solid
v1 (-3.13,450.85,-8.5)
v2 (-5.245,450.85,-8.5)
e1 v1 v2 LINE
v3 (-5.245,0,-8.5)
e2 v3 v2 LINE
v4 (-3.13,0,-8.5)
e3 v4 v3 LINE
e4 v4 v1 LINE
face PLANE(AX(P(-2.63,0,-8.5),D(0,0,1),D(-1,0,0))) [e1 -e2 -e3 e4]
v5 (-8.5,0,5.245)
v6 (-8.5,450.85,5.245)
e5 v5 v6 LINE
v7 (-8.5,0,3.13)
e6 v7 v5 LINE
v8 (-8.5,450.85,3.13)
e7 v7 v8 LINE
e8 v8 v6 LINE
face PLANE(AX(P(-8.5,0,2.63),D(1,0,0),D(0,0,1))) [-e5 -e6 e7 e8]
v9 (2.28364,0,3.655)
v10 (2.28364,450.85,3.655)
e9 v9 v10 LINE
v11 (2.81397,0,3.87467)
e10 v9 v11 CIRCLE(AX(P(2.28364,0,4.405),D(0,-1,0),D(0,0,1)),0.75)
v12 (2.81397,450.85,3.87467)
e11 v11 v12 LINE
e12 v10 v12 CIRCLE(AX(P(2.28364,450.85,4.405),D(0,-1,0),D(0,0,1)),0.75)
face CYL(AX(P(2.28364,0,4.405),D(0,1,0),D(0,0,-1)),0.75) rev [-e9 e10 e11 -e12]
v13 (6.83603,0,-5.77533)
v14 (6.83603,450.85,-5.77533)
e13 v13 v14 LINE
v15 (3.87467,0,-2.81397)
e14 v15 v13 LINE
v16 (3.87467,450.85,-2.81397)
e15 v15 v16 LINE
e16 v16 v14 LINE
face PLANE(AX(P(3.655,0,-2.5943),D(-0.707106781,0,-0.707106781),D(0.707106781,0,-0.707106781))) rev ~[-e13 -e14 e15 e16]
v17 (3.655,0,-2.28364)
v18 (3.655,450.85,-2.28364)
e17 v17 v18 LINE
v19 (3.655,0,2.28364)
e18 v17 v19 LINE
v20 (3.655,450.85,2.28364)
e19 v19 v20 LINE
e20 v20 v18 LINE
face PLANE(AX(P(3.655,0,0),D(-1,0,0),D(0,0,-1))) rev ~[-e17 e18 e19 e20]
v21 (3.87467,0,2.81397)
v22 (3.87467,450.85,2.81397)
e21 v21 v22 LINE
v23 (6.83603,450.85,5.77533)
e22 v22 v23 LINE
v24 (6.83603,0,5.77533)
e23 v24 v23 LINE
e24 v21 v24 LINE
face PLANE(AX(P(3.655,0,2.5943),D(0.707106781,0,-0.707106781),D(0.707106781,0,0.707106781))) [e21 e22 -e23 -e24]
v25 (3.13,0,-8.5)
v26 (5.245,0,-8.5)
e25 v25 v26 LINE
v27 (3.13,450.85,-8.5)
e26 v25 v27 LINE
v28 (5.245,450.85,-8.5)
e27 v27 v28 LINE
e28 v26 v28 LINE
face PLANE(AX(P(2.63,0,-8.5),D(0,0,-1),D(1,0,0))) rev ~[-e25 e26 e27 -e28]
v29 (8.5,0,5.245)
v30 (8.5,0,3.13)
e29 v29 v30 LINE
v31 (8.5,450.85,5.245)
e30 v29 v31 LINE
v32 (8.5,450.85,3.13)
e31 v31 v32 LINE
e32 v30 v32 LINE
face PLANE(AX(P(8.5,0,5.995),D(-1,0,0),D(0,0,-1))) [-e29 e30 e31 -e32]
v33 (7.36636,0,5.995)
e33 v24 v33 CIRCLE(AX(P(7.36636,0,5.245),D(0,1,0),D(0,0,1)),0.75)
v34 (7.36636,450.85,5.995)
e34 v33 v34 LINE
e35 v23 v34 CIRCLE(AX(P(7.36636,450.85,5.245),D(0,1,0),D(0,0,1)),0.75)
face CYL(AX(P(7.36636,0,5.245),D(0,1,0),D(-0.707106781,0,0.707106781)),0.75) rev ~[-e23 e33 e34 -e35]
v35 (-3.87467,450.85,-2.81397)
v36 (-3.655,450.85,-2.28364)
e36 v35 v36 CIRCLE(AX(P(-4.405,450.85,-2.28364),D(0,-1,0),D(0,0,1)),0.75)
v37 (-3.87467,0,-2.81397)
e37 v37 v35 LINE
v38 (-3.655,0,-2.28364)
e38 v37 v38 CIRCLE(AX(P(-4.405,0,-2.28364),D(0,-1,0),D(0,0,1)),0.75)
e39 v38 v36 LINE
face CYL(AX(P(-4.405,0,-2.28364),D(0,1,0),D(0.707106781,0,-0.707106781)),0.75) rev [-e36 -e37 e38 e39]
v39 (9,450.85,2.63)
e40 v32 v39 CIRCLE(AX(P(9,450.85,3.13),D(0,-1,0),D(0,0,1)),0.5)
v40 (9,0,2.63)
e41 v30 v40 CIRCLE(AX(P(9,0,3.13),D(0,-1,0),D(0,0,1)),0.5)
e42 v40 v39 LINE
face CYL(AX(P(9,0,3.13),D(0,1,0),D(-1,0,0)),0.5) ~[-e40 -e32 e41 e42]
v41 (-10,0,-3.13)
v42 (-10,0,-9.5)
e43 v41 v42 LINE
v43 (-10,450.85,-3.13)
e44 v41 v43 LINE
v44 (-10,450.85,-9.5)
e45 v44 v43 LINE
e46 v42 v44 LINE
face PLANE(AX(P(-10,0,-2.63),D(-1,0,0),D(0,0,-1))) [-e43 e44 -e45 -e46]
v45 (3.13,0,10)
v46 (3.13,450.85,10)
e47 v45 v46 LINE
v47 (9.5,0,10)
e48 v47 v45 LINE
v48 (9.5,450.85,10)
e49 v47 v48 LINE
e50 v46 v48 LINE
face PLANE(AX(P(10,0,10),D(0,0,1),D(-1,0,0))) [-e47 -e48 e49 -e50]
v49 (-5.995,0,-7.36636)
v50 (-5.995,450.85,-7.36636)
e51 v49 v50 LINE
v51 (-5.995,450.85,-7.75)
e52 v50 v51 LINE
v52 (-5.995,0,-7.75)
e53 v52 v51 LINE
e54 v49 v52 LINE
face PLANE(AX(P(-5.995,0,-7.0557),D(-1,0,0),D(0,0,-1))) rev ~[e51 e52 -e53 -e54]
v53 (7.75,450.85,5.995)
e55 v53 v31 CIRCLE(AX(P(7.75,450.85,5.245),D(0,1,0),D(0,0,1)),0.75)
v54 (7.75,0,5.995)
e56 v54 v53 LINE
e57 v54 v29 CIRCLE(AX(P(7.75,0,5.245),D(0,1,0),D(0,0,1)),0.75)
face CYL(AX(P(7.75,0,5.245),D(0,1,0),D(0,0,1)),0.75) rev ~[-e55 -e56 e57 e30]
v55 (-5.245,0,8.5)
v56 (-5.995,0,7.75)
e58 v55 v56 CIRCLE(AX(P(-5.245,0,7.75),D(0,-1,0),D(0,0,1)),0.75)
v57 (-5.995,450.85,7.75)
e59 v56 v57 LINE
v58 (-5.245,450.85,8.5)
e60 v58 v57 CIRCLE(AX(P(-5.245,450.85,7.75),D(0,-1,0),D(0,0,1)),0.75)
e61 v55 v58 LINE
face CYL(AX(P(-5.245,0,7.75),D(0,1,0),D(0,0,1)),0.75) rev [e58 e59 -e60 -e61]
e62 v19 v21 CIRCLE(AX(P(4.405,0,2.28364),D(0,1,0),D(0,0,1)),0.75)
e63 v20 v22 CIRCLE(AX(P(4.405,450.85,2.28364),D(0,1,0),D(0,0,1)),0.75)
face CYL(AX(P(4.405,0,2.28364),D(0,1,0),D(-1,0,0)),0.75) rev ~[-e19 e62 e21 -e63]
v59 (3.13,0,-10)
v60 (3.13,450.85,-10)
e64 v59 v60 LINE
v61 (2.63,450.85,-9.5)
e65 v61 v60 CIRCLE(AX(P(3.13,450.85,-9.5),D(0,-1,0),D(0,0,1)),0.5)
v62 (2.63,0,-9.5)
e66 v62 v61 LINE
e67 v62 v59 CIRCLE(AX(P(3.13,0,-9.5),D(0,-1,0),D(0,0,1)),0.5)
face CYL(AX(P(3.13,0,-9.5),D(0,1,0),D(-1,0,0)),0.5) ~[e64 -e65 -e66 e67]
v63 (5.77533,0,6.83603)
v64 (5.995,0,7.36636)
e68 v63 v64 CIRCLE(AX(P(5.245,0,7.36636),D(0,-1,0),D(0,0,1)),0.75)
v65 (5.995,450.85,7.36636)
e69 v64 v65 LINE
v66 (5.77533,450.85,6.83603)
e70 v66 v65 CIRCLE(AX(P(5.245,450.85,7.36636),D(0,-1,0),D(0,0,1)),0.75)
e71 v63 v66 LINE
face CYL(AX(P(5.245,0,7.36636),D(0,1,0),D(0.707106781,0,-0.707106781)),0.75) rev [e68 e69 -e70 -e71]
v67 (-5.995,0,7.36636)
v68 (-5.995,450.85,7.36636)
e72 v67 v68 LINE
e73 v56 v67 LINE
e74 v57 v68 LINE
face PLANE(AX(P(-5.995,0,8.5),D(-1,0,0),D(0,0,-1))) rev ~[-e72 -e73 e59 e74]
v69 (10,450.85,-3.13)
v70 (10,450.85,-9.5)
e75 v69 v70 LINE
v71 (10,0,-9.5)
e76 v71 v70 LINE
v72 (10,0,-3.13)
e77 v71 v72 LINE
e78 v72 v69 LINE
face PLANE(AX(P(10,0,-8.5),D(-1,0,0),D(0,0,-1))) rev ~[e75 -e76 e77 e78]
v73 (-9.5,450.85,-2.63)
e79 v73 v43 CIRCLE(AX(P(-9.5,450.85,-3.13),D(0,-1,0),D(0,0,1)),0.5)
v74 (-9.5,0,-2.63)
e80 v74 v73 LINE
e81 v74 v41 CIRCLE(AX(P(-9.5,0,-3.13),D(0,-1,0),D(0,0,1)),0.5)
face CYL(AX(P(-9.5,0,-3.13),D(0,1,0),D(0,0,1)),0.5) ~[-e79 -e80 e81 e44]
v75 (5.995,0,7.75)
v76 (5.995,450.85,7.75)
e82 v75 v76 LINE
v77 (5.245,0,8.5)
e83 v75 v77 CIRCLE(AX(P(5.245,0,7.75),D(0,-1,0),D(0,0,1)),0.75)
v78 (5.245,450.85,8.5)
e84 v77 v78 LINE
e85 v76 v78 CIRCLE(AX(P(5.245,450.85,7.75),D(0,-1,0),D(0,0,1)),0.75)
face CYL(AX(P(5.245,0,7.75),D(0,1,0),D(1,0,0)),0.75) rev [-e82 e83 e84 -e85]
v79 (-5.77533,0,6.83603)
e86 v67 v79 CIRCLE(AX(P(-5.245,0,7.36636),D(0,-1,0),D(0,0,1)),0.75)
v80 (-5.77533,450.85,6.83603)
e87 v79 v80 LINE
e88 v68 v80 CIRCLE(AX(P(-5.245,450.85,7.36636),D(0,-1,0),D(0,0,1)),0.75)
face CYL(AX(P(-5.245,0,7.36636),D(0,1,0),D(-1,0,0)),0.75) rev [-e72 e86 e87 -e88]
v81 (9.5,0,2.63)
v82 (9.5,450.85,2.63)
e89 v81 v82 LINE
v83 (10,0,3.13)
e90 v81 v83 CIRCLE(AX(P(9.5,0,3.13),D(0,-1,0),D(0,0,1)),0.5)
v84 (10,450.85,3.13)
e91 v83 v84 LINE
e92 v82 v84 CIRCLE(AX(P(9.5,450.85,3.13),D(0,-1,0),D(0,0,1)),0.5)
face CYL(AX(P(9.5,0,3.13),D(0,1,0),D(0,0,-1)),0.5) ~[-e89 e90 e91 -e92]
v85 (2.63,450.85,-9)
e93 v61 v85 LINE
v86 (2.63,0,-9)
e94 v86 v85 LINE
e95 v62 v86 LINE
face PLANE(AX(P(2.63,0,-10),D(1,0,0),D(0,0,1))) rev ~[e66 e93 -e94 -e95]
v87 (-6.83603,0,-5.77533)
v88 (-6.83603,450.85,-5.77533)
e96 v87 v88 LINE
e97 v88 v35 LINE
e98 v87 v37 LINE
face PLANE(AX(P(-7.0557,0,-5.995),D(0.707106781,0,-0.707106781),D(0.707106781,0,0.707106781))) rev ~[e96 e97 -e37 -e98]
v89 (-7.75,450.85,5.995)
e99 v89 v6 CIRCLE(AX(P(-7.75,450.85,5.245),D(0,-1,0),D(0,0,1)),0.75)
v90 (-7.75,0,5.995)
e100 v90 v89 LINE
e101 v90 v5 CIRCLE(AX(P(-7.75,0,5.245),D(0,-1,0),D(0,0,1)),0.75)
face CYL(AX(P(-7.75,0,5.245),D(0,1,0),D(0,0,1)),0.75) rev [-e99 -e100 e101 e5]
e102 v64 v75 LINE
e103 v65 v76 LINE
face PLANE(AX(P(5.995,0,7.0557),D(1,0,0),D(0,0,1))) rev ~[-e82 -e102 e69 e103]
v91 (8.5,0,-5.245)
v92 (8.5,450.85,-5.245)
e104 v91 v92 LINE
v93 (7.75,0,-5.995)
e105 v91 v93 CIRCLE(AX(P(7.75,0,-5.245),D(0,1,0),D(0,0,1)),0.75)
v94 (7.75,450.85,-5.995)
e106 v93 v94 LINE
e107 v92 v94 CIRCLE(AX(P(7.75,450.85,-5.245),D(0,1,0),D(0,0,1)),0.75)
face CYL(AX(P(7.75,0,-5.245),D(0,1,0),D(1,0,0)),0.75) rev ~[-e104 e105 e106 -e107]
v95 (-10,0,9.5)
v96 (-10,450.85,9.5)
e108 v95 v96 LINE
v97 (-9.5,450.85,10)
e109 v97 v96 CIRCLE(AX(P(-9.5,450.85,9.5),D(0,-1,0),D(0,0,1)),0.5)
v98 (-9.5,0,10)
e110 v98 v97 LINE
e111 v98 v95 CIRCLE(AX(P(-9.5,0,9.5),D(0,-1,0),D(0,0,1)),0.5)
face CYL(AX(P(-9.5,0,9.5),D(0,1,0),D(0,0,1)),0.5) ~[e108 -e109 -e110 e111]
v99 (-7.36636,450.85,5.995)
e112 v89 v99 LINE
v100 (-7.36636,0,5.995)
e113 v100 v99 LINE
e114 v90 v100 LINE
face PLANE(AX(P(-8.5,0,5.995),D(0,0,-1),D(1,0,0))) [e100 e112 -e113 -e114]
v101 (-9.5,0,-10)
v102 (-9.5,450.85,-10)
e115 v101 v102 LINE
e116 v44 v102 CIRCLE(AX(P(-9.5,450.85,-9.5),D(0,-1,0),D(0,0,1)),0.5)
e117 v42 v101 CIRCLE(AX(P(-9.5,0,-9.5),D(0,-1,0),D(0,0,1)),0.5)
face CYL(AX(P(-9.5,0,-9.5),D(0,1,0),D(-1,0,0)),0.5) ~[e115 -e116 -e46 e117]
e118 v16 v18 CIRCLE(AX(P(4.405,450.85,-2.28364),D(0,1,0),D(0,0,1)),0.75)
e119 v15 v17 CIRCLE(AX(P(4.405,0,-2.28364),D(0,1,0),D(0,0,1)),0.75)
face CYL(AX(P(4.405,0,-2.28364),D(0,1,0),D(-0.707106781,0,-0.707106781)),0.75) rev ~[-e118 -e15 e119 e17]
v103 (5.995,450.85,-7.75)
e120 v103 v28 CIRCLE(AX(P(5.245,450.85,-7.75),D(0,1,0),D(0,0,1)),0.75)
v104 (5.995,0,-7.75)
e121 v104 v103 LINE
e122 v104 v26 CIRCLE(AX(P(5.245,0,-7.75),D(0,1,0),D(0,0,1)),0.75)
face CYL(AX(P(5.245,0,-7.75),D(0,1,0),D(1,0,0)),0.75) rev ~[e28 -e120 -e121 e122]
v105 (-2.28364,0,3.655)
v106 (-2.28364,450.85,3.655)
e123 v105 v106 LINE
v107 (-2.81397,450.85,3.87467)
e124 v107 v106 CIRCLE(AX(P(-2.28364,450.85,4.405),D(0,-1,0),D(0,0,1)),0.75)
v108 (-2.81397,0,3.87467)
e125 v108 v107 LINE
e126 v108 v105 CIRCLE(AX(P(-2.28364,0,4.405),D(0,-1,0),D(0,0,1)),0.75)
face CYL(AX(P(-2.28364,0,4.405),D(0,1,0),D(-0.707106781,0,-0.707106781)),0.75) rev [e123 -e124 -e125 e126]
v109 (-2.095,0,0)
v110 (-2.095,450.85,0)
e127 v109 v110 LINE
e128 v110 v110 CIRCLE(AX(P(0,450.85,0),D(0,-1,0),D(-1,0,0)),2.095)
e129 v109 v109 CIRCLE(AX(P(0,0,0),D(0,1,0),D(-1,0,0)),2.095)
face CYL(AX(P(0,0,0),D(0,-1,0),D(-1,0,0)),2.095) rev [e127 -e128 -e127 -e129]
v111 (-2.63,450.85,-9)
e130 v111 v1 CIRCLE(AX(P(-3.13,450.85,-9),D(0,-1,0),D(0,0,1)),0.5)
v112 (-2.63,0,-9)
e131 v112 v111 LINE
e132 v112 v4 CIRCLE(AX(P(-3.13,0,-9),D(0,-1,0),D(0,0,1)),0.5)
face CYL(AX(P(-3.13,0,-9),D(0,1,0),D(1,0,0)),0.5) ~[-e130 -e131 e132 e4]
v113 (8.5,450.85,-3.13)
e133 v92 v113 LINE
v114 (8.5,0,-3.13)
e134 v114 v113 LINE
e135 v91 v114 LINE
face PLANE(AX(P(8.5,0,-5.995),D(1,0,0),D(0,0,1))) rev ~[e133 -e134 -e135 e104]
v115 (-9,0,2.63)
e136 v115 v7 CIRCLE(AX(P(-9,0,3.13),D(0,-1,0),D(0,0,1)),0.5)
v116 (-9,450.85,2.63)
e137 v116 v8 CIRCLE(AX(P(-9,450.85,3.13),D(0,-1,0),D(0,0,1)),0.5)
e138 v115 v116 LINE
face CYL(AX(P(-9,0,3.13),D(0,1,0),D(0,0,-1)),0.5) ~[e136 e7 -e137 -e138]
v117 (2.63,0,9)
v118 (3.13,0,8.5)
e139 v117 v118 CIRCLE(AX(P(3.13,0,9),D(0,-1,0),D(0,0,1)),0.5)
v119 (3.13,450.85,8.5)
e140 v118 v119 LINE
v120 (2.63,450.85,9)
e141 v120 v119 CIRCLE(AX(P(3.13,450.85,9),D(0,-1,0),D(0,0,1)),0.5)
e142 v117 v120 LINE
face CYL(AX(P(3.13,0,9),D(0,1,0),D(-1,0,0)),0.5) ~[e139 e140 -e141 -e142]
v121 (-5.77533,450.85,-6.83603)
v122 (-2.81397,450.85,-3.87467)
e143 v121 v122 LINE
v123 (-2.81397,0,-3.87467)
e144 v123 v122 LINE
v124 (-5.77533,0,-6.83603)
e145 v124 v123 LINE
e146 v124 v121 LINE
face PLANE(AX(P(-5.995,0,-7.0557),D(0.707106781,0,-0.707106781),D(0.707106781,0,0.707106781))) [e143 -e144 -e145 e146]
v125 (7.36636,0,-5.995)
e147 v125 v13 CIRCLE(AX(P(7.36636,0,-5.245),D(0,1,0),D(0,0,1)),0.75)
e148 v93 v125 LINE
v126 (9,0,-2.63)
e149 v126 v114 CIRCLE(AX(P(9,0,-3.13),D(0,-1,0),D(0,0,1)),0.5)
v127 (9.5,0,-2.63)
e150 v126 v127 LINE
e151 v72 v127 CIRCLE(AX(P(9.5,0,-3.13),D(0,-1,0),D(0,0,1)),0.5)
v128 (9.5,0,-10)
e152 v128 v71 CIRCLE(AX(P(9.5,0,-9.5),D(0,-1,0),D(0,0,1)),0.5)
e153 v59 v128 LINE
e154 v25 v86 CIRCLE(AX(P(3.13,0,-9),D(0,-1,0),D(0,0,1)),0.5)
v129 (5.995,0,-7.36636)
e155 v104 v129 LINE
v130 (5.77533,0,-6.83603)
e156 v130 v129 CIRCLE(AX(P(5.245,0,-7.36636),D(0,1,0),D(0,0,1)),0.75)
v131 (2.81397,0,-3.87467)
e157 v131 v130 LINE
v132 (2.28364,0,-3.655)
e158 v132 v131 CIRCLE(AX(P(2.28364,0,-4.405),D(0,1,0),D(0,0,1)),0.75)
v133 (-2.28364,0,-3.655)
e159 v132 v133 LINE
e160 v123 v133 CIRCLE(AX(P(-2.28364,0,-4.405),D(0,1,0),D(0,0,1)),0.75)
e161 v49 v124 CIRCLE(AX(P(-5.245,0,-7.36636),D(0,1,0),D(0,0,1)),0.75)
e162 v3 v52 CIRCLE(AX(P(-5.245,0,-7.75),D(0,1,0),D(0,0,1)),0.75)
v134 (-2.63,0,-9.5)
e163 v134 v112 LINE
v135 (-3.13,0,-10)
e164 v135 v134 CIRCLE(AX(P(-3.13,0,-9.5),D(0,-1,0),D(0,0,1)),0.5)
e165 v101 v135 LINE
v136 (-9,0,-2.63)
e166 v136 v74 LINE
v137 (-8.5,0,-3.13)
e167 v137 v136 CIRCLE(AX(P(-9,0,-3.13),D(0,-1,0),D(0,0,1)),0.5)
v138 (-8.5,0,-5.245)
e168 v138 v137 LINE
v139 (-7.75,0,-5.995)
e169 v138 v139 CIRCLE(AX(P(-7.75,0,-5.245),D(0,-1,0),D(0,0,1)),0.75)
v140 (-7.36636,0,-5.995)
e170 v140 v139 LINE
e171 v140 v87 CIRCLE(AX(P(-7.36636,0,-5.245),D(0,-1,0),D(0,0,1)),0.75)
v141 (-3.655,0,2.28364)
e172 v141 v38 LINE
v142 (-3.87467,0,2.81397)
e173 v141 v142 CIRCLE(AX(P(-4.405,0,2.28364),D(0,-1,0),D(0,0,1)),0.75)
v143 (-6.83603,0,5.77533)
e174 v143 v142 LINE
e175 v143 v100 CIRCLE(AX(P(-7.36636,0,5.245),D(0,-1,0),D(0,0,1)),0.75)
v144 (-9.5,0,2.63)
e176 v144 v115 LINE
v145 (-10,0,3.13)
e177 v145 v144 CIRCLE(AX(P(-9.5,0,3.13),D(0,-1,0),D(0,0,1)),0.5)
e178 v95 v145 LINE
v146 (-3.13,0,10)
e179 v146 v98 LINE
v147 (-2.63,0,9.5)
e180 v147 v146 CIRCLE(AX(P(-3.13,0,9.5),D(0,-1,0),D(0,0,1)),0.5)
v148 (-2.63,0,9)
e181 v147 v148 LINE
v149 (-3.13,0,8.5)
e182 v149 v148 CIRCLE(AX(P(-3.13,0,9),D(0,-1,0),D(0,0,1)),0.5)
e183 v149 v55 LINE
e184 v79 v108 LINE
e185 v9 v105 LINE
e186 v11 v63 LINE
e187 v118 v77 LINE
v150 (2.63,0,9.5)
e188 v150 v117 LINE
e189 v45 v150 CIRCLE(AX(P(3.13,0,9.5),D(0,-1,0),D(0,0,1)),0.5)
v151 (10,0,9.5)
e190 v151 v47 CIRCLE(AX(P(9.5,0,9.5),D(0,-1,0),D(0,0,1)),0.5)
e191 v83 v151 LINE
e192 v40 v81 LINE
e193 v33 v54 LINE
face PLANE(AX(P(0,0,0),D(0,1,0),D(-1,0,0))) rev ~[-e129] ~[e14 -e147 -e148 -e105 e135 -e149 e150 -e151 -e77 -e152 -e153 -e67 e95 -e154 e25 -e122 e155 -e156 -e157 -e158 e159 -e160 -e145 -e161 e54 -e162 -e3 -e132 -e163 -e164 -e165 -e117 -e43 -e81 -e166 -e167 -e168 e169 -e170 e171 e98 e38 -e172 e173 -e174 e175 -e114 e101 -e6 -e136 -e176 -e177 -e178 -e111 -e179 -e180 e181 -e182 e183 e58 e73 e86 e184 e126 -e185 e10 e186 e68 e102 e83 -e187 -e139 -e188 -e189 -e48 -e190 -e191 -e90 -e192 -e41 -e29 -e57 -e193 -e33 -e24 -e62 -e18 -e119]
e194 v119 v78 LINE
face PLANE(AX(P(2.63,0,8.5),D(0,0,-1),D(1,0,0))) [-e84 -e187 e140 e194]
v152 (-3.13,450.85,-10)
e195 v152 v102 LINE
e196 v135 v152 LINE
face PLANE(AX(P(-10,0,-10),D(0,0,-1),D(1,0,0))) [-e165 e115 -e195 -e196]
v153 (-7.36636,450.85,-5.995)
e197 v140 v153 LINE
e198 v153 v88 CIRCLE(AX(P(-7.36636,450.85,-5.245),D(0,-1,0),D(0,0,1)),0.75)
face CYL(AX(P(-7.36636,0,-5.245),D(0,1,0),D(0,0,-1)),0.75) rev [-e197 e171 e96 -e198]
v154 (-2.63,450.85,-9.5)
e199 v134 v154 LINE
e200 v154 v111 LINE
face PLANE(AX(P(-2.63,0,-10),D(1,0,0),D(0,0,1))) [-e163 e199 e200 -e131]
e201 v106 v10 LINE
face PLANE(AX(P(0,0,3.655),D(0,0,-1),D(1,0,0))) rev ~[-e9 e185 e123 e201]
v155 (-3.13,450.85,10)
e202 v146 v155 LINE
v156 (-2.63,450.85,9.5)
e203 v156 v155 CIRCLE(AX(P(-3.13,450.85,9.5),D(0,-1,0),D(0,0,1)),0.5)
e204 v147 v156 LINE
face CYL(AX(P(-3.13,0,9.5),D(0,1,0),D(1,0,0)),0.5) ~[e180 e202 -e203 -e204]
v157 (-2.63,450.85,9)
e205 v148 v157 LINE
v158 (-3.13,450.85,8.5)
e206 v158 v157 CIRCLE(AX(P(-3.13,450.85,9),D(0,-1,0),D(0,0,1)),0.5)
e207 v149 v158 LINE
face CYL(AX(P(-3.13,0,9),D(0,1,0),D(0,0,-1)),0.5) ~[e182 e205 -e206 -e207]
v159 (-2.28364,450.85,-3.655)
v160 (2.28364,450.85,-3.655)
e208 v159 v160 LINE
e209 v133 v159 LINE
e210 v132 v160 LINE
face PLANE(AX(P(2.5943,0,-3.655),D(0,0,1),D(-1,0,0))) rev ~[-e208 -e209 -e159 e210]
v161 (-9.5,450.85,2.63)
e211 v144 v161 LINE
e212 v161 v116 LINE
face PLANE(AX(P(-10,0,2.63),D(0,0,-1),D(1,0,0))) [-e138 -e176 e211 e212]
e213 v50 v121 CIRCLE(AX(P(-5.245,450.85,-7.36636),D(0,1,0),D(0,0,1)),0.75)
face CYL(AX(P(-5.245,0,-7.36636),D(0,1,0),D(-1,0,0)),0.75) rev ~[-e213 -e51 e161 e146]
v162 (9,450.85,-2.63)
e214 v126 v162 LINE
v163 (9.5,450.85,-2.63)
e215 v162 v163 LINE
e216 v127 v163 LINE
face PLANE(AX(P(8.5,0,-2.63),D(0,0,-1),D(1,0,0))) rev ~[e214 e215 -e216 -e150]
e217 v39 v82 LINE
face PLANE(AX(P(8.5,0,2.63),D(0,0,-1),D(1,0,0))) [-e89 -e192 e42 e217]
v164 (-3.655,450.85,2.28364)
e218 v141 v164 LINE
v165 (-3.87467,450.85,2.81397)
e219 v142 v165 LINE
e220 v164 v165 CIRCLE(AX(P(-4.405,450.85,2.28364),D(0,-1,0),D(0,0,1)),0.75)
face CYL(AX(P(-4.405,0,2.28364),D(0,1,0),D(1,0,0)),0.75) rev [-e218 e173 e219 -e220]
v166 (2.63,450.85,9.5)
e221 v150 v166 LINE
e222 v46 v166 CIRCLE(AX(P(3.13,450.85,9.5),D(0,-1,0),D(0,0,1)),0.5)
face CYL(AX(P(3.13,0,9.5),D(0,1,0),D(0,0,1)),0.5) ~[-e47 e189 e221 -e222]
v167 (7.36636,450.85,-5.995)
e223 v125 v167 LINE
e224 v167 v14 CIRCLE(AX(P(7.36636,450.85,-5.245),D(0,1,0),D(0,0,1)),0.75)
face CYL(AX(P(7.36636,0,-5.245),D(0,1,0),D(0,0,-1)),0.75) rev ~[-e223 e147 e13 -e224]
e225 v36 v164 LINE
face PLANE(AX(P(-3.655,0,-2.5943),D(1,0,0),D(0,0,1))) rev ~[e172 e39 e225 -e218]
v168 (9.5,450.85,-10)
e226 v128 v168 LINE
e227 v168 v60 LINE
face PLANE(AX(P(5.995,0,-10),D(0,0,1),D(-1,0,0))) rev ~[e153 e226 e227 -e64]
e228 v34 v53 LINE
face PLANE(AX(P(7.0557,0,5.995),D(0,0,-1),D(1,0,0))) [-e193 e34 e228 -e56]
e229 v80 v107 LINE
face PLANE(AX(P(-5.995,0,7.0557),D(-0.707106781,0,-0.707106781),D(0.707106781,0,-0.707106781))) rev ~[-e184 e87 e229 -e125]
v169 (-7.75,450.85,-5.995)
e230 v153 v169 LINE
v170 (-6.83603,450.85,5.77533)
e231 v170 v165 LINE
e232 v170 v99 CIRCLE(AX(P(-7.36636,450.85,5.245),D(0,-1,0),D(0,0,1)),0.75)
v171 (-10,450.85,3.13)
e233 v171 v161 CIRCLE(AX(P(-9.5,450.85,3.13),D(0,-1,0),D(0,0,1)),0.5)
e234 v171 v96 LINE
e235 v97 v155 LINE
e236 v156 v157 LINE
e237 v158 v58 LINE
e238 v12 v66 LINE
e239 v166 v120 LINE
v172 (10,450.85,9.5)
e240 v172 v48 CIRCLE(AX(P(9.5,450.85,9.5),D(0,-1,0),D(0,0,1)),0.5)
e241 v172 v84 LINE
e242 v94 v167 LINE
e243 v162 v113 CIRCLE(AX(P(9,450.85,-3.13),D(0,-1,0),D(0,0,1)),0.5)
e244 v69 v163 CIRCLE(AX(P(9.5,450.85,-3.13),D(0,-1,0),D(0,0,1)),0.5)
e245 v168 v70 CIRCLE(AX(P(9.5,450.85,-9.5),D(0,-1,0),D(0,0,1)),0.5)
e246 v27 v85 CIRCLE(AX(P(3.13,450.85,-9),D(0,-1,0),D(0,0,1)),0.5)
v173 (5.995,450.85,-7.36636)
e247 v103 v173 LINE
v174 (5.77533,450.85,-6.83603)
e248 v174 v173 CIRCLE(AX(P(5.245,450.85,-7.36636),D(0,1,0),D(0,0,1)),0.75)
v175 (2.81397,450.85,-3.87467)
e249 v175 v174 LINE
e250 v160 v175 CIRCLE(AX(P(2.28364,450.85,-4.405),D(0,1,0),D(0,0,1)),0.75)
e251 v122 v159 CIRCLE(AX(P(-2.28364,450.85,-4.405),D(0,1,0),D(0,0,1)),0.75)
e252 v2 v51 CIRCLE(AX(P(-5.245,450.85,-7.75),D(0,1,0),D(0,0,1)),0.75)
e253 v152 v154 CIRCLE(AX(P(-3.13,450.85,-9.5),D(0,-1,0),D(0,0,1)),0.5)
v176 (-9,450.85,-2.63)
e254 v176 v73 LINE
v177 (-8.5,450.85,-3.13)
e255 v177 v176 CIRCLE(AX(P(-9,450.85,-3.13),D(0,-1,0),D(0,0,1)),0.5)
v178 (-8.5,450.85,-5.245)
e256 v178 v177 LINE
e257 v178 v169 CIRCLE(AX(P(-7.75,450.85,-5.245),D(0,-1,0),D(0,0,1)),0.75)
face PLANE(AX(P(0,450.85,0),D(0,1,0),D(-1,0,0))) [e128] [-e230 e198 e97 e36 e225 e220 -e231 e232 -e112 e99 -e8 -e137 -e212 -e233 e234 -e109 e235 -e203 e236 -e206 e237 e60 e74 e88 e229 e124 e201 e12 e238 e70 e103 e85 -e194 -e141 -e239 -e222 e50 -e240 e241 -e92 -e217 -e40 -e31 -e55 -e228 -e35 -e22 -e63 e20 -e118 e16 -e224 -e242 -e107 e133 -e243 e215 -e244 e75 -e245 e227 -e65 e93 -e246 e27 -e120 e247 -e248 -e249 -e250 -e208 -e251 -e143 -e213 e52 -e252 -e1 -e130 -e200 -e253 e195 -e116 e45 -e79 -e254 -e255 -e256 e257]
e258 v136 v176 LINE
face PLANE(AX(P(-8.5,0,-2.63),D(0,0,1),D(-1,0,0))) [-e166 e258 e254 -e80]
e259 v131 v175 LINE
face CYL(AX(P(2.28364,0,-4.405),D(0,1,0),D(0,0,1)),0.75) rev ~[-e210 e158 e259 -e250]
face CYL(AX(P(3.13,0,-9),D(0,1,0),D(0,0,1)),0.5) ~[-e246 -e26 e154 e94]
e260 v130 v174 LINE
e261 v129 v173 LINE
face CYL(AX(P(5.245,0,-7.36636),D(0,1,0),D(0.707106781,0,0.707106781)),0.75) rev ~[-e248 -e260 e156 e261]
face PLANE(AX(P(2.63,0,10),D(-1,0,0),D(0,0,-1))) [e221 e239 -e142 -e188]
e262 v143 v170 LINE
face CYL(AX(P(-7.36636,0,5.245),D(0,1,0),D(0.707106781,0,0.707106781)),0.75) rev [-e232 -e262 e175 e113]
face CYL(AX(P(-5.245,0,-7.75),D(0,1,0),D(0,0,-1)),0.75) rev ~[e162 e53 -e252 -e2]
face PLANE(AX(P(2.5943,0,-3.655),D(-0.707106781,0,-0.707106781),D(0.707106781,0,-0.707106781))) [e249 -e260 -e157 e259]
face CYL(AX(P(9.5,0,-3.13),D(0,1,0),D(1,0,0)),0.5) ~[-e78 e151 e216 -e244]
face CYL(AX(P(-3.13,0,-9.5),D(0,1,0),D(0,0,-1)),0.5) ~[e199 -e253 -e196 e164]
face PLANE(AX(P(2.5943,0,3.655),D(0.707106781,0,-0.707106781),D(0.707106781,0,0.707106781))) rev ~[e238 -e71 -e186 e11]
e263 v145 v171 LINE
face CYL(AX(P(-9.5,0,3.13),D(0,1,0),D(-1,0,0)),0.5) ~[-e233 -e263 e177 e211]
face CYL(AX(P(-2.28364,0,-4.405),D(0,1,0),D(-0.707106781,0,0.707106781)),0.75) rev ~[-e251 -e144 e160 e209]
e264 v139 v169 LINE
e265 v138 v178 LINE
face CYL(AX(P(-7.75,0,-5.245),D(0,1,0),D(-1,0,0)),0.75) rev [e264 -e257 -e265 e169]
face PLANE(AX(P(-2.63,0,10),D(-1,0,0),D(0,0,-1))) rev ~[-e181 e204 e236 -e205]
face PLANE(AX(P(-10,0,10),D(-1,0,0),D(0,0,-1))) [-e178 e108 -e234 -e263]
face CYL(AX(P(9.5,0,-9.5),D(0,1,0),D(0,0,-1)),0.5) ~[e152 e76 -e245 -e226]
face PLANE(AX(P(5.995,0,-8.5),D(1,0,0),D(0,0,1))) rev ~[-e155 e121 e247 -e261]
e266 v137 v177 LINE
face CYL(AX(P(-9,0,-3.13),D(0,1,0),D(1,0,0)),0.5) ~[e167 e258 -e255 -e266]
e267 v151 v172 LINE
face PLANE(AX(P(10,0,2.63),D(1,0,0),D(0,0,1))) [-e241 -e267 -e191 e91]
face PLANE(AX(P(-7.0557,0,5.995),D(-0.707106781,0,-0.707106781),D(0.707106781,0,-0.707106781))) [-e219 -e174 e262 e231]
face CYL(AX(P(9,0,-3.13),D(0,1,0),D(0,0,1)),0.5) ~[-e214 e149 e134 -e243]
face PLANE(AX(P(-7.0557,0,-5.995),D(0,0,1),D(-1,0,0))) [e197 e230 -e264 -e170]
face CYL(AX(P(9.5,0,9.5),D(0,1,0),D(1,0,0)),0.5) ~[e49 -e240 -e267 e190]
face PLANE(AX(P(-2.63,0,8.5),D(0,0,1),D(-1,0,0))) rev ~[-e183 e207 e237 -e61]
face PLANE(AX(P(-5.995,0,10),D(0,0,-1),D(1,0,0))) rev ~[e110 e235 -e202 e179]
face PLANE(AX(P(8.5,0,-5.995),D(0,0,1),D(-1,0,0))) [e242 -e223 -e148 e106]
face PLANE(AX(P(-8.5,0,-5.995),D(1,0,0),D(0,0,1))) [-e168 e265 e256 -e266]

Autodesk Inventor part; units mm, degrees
ref_plane "YZ Plane" through (0, 0, 0) normal (1, 0, 0) x (0, 1, 0)
ref_plane "XZ Plane" through (0, 0, 0) normal (0, 1, 0) x (-1, 0, 0)
ref_plane "XY Plane" through (0, 0, 0) normal (0, 0, 1) x (1, 0, 0)
sketch "Sketch1" plane through (0, 0, 0) normal (0, 1, 0) x (-1, 0, 0)
  line L0 (0, -14) -> (0, 14) projected
  line L1 (-14, 0) -> (14, 0) projected
  line L2 (14, 0) -> (-14, 0) projected
  line L3 (0, -14) -> (0, 14) projected
  line L4 (2.5943, 3.655) -> (-2.5943, 3.655)
  line L5 (-3.655, 2.5943) -> (-3.655, -2.5943)
  line L6 (-2.5943, -3.655) -> (2.5943, -3.655)
  line L7 (3.655, -2.5943) -> (3.655, 2.5943)
  line L8 (-3.655, 3.655) -> (3.655, -3.655) construction
  line L9 (10, 10) -> (10, 2.63)
  line L10 (10, 2.63) -> (8.5, 2.63)
  line L11 (10, 10) -> (2.63, 10)
  line L12 (2.63, 10) -> (2.63, 8.5)
  line L13 (-10, 10) -> (-2.63, 10)
  line L14 (-2.63, 10) -> (-2.63, 8.5)
  line L15 (-10, 8.5) -> (-10, 10)
  line L16 (-10, 10) -> (-8.5, 10)
  line L17 (-8.5, 2.63) -> (-10, 2.63)
  line L18 (-10, 2.63) -> (-10, 10)
  line L19 (-10, -10) -> (-8.5, -10)
  line L20 (-8.5, -2.63) -> (-10, -2.63)
  line L21 (-10, -2.63) -> (-10, -10)
  line L22 (-10, -10) -> (-2.63, -10)
  line L23 (-2.63, -10) -> (-2.63, -8.5)
  line L24 (-10, -8.5) -> (-10, -10)
  line L25 (10, -10) -> (8.5, -10)
  line L26 (8.5, -2.63) -> (10, -2.63)
  line L27 (10, -2.63) -> (10, -10)
  line L28 (10, -10) -> (2.63, -10)
  line L29 (2.63, -10) -> (2.63, -8.5)
  line L30 (10, -8.5) -> (10, -10)
  circle A0 centre (0, 0) radius 2.095
  line L31 (5.995, -10) -> (2.63, -10)
  line L32 (-2.63, -10) -> (-5.995, -10)
  line L33 (10, -10) -> (2.63, -10)
  line L34 (-2.63, -10) -> (-10, -10)
  line L35 (10, -5.995) -> (10, -2.63)
  line L36 (10, 2.63) -> (10, 5.995)
  line L37 (10, 10) -> (10, 2.63)
  line L38 (10, -2.63) -> (10, -10)
  line L39 (-5.995, 10) -> (-2.63, 10)
  line L40 (2.63, 10) -> (5.995, 10)
  line L41 (-10, 10) -> (-2.63, 10)
  line L42 (2.63, 10) -> (10, 10)
  line L43 (-10, 5.995) -> (-10, 2.63)
  line L44 (-10, -2.63) -> (-10, -5.995)
  line L45 (-10, -10) -> (-10, -2.63)
  line L46 (-10, 2.63) -> (-10, 10)
  line L47 (-2.63, -8.5) -> (-5.995, -8.5)
  line L48 (-8.5, -5.995) -> (-8.5, -2.63)
  line L49 (-8.5, -5.995) -> (-7.0557, -5.995)
  line L50 (-5.995, -8.5) -> (-5.995, -7.0557)
  line L51 (-5.995, 7.0557) -> (-5.995, 8.5)
  line L52 (2.63, 8.5) -> (5.995, 8.5)
  line L53 (8.5, 2.63) -> (8.5, 5.995)
  line L54 (8.5, 5.995) -> (7.0557, 5.995)
  line L55 (5.995, 8.5) -> (5.995, 7.0557)
  line L56 (2.63, -8.5) -> (5.995, -8.5)
  line L57 (9.5607, -8.5) -> (10, -8.5)
  line L58 (8.5, -10) -> (8.5, -9.5607)
  line L59 (8.5, -5.995) -> (8.5, -2.63)
  line L60 (7.0557, -5.995) -> (8.5, -5.995)
  line L61 (5.995, -7.0557) -> (5.995, -8.5)
  line L62 (3.655, 3.655) -> (-0.5303, -0.5303) construction
  line L63 (-1.4814, -1.4814) -> (-3.655, -3.655) construction
  line L64 (-8.5, 10) -> (-8.5, 9.5607)
  line L65 (-8.5, 5.995) -> (-8.5, 2.63)
  line L66 (-2.63, 8.5) -> (-5.995, 8.5)
  line L67 (-9.5607, 8.5) -> (-10, 8.5)
  line L68 (-7.0557, 5.995) -> (-8.5, 5.995)
  line L69 (-3.655, 2.5943) -> (-7.0557, 5.995)
  line L70 (-2.5943, 3.655) -> (-5.995, 7.0557)
  line L71 (5.995, 7.0557) -> (2.5943, 3.655)
  line L72 (7.0557, 5.995) -> (3.655, 2.5943)
  line L73 (7.0557, -5.995) -> (3.655, -2.5943)
  line L74 (5.995, -7.0557) -> (2.5943, -3.655)
  line L75 (-2.5943, -3.655) -> (-5.995, -7.0557)
  line L76 (-3.655, -2.5943) -> (-7.0557, -5.995)
  dimension "d26" = 4.19
  dimension "d0" = 20
  dimension "d1" = 20
  dimension "d2" = 7.31
  dimension "d3" = 7.31
  dimension "d4" = 20
  dimension "d5" = 11.99
  dimension "d6" = 11.99
  dimension "d11" = 7.37
  dimension "d12" = 1.5
  dimension "d13" = 7.37
  dimension "d14" = 1.5
  dimension "d15" = 7.37
  dimension "d16" = 1.5
  dimension "d17" = 7.37
  dimension "d18" = 1.5
  dimension "d19" = 7.37
  dimension "d20" = 7.37
  dimension "d21" = 1.5
  dimension "d22" = 1.5
  dimension "d23" = 7.37
  dimension "d24" = 7.37
  dimension "d25" = 1.5
extrude "Extrusion1" add sketch "Sketch1" along normal blind 450.85 contours L6 L75 L50 L47 L23 L22 L19 L21 L20 L48 L49 L76 L5 L1 A0 L0 | L0 A0 L1 L7 L73 L60 L59 L26 L27 L25 L28 L29 L56 L61 L74 L6 | L1 L5 L69 L68 L65 L17 L18 L15 L13 L14 L66 L51 L70 L4 L0 A0 | A0 L0 L4 L71 L55 L52 L12 L11 L9 L10 L53 L54 L72 L7 L1
fillet "Fillet1" radius 0.5 20 edges at (10, 225.425, 10) (2.63, 225.425, 10) (-2.63, 225.425, 10) (-2.63, 225.425, 8.5) (10, 225.425, 2.63) (8.5, 225.425, 2.63) (10, 225.425, -2.63) (8.5, 225.425, -2.63) (10, 225.425, -10) (2.63, 225.425, -8.5) (-2.63, 225.425, -10) (-2.63, 225.425, -8.5) (2.63, 225.425, -10) (-10, 225.425, -10) (-8.5, 225.425, -2.63) (-10, 225.425, -2.63) (-8.5, 225.425, 2.63) (-10, 225.425, 2.63) (-10, 225.425, 10) (2.63, 225.425, 8.5)
fillet "Fillet2" radius 0.75 24 edges at (-7.0557, 225.425, 5.995) (-3.655, 225.425, 2.5943) (-8.5, 225.425, -5.995) (-7.0557, 225.425, -5.995) (-5.995, 225.425, -8.5) (3.655, 225.425, -2.5943) (7.0557, 225.425, -5.995) (-2.5943, 225.425, 3.655) (-5.995, 225.425, 7.0557) (3.655, 225.425, 2.5943) (7.0557, 225.425, 5.995) (8.5, 225.425, 5.995) (8.5, 225.425, -5.995) (2.5943, 225.425, 3.655) (5.995, 225.425, 7.0557) (5.995, 225.425, 8.5) (-5.995, 225.425, 8.5) (-8.5, 225.425, 5.995) (2.5943, 225.425, -3.655) (5.995, 225.425, -7.0557) (5.995, 225.425, -8.5) (-5.995, 225.425, -7.0557) (-2.5943, 225.425, -3.655) (-3.655, 225.425, -2.5943)
properties part number "Profile_Len_860mm"
